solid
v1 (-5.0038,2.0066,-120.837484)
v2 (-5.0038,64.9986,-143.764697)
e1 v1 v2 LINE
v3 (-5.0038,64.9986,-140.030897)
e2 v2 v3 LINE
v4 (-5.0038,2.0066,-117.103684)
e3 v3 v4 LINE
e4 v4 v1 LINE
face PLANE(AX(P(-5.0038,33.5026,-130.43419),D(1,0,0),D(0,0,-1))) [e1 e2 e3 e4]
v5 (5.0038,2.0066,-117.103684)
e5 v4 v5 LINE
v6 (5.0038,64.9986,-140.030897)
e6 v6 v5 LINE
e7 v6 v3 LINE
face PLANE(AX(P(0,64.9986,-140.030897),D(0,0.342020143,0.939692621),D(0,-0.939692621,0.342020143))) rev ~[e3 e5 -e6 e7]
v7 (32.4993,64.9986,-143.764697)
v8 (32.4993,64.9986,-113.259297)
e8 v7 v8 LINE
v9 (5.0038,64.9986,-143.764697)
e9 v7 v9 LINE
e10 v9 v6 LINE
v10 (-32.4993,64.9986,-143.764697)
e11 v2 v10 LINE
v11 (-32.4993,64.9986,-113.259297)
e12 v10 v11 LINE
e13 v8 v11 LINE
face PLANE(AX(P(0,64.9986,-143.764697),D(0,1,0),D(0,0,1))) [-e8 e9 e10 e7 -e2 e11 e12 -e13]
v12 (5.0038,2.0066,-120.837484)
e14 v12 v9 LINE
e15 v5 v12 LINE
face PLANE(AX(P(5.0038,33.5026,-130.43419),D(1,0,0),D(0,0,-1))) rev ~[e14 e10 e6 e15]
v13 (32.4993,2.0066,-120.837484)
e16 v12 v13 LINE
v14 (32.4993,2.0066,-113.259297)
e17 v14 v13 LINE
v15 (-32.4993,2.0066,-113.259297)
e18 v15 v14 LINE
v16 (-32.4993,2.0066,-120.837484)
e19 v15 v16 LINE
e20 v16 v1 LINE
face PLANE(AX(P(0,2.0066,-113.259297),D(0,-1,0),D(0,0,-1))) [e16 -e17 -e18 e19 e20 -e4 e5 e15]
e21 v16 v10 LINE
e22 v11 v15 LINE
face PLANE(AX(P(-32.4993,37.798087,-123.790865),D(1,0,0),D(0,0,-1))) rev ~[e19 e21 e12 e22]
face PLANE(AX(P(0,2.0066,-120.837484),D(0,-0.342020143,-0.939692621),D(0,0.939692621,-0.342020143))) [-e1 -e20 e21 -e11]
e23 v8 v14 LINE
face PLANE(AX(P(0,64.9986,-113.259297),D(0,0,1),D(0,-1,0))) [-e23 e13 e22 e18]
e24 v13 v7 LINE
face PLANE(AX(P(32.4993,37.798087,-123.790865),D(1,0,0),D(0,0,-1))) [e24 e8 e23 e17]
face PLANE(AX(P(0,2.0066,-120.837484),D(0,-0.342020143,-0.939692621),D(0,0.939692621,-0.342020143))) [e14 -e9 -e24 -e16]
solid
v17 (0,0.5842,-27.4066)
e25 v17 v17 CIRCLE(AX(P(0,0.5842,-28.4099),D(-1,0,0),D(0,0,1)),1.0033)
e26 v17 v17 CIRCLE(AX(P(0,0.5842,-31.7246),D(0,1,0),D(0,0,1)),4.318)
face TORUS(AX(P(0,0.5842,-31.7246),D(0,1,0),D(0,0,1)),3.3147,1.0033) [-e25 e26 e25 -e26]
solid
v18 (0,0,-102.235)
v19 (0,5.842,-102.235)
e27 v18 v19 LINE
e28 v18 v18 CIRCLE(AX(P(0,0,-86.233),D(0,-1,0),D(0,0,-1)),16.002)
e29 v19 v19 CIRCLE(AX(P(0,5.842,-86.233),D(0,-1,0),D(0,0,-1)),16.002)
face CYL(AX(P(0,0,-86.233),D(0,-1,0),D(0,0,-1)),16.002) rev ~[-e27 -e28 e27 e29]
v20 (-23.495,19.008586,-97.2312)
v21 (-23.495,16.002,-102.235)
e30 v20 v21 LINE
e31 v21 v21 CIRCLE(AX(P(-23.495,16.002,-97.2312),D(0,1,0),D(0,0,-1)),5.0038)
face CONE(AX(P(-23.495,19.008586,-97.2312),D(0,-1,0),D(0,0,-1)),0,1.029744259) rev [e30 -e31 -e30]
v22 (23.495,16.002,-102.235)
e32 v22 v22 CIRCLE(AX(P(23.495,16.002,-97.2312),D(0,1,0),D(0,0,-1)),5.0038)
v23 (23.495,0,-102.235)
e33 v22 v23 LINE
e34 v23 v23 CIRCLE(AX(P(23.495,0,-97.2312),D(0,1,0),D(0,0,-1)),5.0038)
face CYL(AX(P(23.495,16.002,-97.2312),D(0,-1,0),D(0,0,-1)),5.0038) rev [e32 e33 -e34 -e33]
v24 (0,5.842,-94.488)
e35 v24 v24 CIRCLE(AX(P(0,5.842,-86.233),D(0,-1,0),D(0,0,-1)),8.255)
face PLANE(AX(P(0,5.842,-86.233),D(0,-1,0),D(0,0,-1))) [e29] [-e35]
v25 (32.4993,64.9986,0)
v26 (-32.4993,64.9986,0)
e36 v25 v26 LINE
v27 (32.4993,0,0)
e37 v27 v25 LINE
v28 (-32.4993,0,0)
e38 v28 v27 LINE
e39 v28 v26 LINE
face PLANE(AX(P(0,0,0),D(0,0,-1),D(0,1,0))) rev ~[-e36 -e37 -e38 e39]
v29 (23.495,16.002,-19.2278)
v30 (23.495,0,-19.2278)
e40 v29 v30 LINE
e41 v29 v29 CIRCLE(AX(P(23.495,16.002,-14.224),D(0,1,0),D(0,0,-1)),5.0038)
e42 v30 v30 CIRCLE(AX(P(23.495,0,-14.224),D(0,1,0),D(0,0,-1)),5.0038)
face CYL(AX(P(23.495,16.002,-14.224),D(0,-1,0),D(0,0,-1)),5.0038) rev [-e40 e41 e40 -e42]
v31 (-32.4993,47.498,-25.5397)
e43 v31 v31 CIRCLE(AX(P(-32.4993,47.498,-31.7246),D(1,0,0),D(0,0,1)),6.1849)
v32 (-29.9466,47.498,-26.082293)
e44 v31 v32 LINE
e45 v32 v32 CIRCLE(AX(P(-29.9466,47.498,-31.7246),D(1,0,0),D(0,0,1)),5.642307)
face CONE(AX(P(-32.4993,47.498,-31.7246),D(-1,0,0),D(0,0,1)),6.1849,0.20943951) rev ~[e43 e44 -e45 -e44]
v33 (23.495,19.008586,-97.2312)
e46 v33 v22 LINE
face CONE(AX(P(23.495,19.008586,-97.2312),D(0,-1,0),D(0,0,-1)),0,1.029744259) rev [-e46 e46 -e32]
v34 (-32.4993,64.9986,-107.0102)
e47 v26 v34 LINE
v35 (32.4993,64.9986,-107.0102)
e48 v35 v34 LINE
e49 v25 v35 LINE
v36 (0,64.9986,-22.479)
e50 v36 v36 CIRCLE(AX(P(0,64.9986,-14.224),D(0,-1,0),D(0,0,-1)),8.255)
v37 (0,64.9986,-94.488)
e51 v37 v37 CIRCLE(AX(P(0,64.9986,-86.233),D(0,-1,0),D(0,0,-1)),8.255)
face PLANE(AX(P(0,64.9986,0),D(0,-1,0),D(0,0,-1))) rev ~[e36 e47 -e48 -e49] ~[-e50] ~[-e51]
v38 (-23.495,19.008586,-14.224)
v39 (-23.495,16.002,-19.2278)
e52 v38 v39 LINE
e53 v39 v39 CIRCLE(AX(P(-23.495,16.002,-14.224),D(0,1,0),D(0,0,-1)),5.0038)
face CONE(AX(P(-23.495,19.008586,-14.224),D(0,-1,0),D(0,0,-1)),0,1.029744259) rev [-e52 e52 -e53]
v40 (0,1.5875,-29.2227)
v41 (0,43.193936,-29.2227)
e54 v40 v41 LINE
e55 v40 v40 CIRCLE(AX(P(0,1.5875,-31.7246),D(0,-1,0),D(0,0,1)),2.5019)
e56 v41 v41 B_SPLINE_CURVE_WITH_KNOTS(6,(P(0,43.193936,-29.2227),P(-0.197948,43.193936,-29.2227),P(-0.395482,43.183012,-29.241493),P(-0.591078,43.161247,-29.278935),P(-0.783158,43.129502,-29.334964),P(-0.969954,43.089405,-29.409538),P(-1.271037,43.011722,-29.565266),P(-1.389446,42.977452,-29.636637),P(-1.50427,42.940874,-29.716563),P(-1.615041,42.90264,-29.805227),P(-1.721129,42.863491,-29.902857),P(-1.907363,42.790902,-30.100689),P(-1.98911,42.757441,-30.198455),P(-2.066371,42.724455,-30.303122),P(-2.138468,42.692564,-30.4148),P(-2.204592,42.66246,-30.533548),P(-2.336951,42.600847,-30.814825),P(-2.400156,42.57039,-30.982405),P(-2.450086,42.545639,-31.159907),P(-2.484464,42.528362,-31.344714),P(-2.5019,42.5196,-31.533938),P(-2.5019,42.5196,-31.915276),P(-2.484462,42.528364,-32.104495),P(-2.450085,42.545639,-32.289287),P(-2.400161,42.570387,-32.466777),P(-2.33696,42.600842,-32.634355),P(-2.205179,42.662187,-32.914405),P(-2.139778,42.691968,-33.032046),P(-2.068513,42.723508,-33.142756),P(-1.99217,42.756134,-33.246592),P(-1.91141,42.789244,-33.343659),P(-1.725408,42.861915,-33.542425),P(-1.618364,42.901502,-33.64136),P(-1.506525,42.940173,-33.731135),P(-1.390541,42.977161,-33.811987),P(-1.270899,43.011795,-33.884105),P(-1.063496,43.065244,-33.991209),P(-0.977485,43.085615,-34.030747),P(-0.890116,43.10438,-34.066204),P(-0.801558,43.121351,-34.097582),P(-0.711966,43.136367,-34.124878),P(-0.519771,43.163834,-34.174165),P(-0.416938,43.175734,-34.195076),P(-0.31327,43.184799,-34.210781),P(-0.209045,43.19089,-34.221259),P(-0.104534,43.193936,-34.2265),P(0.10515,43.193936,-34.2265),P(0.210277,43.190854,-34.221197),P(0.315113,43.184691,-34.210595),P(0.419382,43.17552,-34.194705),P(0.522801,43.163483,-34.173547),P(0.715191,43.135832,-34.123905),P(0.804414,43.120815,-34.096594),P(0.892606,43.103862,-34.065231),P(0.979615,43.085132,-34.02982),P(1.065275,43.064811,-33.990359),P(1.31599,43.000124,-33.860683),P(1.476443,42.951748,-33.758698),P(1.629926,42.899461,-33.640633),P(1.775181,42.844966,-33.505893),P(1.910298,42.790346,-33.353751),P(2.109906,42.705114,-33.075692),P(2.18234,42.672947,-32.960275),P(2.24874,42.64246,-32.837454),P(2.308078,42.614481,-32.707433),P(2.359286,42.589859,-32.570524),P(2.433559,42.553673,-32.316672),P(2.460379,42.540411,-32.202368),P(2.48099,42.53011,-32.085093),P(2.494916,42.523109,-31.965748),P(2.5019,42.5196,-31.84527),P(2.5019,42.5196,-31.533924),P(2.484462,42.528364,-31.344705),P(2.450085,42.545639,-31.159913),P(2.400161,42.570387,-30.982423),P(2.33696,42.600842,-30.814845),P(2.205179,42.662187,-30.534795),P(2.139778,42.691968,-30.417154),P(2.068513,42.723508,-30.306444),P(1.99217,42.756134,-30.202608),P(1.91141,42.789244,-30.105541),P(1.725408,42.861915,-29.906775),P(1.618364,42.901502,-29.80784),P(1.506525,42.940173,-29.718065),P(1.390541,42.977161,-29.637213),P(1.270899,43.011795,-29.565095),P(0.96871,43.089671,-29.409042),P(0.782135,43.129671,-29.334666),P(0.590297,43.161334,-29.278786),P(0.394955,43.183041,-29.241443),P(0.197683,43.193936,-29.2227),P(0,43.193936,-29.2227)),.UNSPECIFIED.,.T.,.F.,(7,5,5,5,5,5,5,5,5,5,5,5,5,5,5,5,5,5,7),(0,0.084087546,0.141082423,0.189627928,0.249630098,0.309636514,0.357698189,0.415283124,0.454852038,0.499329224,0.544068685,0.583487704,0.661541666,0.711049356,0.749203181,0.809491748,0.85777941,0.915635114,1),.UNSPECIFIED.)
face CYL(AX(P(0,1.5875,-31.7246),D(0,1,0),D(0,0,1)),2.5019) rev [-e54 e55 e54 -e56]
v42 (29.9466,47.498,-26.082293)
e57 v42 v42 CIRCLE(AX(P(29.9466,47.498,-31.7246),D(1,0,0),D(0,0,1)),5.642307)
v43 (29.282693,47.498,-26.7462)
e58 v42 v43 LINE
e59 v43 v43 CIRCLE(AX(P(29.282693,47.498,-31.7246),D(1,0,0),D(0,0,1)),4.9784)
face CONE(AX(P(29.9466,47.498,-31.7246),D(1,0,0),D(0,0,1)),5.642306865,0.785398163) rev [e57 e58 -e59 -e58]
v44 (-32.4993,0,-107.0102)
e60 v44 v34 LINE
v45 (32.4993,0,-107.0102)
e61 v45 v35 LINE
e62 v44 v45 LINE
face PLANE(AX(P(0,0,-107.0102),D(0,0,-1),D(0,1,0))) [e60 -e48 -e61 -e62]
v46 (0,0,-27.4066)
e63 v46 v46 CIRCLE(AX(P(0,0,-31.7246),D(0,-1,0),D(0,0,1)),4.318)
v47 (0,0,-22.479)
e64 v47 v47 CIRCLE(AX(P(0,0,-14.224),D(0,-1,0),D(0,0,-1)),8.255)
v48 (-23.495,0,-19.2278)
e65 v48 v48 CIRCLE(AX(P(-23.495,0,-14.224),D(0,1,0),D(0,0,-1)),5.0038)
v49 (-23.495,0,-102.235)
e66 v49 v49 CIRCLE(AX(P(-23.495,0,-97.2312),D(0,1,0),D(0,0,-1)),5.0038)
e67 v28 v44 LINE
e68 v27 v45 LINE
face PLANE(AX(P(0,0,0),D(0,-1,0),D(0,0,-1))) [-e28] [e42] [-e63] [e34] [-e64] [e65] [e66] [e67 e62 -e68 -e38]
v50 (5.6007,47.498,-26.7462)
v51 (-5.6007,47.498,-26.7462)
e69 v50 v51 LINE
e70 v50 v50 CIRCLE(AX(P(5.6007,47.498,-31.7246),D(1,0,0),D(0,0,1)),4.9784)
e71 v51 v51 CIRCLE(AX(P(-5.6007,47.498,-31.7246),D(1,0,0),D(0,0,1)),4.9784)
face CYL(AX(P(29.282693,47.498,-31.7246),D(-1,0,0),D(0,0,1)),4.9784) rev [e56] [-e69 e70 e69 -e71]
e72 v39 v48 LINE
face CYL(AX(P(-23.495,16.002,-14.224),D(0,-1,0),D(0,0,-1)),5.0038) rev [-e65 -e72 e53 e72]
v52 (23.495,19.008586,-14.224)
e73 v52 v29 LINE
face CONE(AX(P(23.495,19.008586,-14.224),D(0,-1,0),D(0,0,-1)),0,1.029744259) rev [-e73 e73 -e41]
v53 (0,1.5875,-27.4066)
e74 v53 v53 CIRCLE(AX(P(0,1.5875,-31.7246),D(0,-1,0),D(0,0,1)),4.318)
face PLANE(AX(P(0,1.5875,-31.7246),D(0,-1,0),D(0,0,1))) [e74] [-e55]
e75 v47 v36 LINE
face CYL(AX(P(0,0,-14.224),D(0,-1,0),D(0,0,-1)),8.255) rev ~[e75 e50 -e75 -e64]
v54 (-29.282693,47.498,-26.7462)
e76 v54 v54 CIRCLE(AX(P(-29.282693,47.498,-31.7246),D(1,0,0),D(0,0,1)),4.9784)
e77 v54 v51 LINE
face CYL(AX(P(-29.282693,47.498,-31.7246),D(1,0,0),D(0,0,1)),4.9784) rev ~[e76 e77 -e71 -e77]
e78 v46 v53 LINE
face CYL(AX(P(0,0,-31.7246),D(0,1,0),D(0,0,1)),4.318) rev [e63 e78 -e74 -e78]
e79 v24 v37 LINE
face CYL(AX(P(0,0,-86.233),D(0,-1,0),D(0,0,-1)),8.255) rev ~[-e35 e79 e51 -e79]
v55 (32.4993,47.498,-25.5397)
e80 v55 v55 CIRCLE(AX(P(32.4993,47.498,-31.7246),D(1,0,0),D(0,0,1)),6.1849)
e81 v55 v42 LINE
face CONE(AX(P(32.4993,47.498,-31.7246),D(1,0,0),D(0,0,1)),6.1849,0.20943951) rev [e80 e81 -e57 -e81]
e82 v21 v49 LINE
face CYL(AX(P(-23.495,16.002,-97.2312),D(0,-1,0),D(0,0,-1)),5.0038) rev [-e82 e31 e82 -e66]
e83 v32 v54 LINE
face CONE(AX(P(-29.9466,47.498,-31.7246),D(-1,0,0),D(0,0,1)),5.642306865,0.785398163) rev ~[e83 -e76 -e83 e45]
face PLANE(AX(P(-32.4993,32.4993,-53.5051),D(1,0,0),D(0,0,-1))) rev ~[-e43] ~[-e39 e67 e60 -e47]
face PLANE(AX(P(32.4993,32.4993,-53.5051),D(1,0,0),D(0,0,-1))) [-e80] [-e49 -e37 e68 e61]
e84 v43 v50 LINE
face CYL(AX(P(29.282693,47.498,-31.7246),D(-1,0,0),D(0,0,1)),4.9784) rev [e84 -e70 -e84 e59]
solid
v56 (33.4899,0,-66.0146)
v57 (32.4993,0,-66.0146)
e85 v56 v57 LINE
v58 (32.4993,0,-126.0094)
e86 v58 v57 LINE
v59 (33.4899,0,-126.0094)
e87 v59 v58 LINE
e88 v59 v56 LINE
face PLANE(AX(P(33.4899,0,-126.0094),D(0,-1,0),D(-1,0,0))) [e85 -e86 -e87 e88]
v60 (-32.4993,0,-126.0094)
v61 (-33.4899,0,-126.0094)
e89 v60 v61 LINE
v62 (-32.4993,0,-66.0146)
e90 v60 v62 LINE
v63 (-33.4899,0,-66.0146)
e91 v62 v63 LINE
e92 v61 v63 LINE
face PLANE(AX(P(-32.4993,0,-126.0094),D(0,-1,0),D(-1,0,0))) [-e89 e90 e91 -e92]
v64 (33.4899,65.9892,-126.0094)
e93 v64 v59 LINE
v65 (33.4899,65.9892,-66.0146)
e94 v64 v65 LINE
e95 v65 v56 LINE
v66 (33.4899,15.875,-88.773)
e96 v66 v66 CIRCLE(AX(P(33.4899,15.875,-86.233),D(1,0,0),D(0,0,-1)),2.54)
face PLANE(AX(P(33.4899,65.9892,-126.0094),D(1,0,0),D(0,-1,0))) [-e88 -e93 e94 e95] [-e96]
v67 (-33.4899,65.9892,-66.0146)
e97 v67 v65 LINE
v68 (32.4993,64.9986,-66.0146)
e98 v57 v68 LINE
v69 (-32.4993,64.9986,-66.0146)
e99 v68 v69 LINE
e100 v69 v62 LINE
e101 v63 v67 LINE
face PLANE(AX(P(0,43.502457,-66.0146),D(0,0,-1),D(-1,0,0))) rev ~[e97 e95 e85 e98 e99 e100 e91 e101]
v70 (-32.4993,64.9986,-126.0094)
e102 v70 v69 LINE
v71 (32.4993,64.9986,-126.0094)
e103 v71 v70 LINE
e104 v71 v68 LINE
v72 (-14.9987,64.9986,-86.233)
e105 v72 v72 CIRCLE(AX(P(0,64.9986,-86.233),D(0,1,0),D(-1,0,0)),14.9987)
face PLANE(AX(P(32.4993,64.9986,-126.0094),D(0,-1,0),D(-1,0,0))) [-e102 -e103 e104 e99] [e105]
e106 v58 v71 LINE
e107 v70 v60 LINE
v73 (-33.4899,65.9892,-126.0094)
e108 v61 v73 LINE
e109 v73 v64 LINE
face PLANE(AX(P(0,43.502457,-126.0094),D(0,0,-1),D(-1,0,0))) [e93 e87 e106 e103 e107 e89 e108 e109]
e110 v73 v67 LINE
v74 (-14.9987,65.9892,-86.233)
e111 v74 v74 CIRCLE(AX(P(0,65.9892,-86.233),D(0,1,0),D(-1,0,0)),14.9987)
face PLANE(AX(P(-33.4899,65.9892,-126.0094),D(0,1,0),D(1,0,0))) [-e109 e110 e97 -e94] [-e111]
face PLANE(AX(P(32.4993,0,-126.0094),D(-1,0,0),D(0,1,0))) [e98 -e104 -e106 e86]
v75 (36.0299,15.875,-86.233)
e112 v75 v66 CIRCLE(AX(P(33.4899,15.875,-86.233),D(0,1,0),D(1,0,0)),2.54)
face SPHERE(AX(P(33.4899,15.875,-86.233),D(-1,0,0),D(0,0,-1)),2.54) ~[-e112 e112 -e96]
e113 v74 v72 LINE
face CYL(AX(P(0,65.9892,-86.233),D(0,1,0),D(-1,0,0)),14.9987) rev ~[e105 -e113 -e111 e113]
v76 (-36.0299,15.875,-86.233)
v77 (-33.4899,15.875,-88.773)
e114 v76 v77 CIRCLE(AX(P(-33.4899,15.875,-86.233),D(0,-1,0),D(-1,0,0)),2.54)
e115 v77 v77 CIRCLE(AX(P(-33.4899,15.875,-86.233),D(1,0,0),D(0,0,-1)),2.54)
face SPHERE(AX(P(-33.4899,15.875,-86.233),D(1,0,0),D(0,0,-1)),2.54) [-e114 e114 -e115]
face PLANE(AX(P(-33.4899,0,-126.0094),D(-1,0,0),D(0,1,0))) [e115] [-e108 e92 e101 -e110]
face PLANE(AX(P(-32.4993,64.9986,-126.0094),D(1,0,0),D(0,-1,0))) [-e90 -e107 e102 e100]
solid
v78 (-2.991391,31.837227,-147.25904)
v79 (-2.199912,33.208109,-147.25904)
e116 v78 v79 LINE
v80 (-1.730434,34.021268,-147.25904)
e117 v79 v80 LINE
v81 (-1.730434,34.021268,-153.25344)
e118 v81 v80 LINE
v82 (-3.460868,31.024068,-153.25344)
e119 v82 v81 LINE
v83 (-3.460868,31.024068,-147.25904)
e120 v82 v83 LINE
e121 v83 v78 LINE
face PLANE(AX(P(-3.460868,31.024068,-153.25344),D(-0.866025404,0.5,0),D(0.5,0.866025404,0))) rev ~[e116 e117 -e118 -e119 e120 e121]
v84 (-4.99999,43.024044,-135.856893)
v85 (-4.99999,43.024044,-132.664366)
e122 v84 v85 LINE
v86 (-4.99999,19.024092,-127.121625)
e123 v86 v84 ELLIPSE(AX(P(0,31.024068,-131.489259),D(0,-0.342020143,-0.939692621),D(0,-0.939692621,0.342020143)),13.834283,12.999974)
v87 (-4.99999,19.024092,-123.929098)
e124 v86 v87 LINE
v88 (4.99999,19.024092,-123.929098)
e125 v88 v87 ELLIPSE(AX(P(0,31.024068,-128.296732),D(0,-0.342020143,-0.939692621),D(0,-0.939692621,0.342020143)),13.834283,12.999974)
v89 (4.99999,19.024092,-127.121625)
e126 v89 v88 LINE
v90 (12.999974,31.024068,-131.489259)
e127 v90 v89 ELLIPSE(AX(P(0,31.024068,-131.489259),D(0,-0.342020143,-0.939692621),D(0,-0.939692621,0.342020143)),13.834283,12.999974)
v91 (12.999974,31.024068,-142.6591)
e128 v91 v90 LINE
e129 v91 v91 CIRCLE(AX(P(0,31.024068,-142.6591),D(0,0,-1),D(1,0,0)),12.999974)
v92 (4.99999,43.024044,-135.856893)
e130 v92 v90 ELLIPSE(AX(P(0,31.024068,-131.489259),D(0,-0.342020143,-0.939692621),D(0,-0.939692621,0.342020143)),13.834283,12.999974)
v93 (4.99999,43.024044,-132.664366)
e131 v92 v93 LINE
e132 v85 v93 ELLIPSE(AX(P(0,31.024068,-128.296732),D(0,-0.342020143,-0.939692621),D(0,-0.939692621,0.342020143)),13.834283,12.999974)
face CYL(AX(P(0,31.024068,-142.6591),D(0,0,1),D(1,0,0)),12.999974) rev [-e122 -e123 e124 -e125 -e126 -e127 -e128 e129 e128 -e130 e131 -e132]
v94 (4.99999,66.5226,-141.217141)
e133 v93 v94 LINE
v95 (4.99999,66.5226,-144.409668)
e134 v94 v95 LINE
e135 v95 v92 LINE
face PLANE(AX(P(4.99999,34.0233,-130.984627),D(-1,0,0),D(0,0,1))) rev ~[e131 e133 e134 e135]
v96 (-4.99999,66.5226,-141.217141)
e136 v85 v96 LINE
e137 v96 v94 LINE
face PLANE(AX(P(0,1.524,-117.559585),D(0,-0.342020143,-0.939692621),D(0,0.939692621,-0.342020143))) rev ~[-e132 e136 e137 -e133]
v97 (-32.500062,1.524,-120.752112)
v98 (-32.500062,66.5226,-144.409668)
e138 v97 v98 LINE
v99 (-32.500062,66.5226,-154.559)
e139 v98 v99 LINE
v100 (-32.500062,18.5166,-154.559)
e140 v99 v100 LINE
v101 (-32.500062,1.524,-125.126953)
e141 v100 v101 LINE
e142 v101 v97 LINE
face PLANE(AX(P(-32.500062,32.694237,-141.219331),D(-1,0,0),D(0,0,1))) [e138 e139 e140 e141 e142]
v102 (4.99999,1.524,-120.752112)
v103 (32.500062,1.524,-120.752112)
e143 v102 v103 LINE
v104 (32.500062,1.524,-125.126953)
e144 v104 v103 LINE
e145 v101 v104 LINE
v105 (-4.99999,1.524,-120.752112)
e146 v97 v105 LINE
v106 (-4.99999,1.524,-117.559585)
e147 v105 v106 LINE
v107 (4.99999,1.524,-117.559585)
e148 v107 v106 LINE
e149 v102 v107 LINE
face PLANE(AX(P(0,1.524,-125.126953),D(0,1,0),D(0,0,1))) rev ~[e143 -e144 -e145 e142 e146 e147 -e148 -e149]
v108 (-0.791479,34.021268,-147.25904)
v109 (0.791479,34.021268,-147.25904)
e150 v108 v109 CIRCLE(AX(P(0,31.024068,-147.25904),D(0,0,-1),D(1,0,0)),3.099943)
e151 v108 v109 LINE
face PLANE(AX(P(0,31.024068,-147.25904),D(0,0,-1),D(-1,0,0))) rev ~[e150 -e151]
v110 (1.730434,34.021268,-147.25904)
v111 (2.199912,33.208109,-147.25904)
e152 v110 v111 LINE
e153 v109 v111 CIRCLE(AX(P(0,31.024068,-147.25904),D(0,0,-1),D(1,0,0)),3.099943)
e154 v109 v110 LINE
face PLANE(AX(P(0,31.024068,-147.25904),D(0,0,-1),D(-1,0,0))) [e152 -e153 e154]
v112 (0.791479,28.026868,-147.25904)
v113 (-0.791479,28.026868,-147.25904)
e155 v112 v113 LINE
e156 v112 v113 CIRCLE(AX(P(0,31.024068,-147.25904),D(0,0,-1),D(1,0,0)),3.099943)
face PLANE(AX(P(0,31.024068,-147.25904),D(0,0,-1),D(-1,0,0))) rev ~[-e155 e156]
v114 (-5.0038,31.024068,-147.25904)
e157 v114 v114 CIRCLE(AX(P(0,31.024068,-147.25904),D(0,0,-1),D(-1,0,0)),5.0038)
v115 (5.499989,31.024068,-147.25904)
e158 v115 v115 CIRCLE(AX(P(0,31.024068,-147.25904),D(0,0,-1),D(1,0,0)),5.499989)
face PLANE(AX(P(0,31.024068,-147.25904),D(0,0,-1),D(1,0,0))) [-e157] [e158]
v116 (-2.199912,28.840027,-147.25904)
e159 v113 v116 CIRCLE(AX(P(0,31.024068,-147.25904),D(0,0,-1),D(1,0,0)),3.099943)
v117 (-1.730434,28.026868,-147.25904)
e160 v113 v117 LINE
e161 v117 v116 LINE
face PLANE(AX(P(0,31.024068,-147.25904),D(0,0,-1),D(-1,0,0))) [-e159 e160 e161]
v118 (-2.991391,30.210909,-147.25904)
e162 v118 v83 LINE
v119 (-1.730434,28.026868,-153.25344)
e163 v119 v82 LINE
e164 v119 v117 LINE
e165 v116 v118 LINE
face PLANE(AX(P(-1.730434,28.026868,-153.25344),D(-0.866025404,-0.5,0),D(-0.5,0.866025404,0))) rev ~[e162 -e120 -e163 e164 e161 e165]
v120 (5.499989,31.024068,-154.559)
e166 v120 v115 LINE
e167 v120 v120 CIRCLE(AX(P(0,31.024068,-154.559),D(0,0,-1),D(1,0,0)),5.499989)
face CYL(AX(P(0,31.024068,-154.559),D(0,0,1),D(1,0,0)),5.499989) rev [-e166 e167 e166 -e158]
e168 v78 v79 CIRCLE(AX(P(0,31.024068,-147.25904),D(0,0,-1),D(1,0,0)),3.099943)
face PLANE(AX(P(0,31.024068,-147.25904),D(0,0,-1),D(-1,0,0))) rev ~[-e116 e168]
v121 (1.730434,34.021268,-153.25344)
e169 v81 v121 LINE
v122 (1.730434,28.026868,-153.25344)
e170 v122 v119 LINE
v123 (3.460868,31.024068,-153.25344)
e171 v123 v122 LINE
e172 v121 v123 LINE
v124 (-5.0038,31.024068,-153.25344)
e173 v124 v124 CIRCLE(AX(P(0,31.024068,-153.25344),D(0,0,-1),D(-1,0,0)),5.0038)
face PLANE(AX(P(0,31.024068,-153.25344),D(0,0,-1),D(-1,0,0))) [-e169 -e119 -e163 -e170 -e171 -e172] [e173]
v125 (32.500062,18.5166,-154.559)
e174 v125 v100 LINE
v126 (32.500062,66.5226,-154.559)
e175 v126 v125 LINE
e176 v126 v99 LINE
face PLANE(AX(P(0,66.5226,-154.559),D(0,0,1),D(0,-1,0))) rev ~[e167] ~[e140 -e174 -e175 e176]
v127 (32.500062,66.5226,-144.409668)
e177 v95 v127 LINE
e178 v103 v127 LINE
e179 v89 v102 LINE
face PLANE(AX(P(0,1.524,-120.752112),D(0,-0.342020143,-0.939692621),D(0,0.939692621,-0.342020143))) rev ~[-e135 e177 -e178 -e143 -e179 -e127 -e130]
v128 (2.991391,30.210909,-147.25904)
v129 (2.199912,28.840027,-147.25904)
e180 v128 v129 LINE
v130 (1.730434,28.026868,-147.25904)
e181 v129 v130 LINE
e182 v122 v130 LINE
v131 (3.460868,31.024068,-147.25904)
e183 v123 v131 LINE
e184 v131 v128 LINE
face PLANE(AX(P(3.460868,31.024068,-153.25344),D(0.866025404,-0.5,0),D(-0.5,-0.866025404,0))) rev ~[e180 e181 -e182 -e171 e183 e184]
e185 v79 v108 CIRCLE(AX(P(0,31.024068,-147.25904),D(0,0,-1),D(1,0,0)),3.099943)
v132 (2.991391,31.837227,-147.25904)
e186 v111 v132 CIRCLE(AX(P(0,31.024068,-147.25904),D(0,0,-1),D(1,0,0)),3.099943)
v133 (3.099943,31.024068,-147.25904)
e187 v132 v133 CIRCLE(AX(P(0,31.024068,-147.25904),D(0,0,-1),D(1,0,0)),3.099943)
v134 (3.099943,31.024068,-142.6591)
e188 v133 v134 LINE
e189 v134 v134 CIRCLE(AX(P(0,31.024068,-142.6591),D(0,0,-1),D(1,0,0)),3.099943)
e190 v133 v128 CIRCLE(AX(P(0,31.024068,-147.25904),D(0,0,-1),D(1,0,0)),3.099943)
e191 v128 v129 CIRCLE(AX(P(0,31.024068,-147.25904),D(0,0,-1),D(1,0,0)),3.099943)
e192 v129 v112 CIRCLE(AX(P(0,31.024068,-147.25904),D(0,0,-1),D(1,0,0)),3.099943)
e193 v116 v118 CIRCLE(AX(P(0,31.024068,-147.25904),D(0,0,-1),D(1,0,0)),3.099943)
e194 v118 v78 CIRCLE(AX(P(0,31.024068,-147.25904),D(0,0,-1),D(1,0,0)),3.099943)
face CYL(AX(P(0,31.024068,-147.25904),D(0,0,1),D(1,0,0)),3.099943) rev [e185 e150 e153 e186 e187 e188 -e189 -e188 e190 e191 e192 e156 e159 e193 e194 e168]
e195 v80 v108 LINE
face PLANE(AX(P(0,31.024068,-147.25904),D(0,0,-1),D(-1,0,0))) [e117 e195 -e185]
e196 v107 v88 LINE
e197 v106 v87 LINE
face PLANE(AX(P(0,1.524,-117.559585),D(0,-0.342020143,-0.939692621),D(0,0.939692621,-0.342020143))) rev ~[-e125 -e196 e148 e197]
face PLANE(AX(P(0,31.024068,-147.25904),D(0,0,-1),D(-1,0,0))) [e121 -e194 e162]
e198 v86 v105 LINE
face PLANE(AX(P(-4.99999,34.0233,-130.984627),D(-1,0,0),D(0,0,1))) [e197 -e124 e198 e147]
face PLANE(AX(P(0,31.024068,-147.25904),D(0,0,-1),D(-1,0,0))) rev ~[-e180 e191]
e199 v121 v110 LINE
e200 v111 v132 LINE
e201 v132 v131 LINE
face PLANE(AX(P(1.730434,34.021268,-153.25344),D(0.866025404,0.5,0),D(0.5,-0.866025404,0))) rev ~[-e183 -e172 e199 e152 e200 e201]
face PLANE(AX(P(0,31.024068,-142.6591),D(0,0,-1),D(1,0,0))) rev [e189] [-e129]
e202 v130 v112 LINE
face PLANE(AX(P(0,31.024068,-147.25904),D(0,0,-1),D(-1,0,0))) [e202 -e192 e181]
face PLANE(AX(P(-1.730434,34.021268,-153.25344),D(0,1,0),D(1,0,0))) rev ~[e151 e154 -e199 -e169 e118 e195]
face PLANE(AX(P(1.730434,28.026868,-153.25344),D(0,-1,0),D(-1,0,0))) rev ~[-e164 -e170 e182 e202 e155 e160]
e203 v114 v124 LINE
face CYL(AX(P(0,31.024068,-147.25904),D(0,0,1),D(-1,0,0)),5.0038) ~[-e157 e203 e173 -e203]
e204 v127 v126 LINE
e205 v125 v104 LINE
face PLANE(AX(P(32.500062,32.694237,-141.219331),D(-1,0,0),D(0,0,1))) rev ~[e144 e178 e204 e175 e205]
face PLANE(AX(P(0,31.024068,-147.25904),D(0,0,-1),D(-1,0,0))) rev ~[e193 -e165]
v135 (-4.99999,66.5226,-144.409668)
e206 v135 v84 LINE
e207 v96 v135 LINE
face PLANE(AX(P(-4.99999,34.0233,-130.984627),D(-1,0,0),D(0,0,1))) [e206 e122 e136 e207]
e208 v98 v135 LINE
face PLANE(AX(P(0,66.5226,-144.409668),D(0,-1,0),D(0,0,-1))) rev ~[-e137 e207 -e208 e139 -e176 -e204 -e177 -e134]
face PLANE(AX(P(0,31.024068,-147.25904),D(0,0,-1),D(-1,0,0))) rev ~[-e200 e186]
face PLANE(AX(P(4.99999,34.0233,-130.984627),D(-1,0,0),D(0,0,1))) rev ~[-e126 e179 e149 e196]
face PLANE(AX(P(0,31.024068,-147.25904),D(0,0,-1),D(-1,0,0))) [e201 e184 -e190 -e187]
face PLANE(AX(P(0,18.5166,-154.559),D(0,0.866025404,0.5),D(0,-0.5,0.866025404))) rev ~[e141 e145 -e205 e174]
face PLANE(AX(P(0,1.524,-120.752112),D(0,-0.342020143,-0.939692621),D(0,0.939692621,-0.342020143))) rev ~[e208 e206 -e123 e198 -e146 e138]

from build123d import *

# Parameters (mm, degrees)
SKETCH1_W          = 107.0102
SKETCH1_H          = 64.9986
EXTRUDE1_DEPTH     = 32.4993
EXTRUDE4_DEPTH     = 32.500062
EXTRUDE5_DEPTH     = 4.99999
SKETCH14_R         = 5.0038
EXTRUDE6_DEPTH     = 5.9944
CUT_EXTRUDE3_DEPTH = 5.9944
EXTRUDE2_DEPTH     = 32.4993
CUT_EXTRUDE1_DEPTH = 5.0038
SKETCH4_R          = 8.255
CUT_EXTRUDE2_DEPTH = 64.9986
HOLE1_AT_2_COUNT   = 2
HOLE1_AT_2_PITCH   = 83.0072
HOLE1_AT_3_COUNT   = 2
HOLE1_AT_3_PITCH   = 46.99
HOLE1_AT_4_COUNT   = 2
HOLE1_AT_4_PITCH   = 95.384775262
SKETCH8_R          = 1.0033
EXTRUDE3_DEPTH     = 59.9948
SKETCH18_R         = 14.9987
CUT_EXTRUDE4_DEPTH = 0.9906
SKETCH20_R         = 16.002
CUT_EXTRUDE5_DEPTH = 5.842


with BuildPart() as part:
    # Sketch1 → Extrude1 (new body, symmetric)
    with BuildSketch(Plane(origin=(0, 0, 0), x_dir=(0, 0, -1), z_dir=(1, 0, 0))):
        with Locations((53.5051, 32.4993)):
            Rectangle(SKETCH1_W, SKETCH1_H)
    extrude(amount=EXTRUDE1_DEPTH, both=True)

    # Sketch4 → Cut-Extrude2 (cut)
    with BuildSketch(Plane.XZ):
        with Locations(Location((0, -14.224, 0), (0, 0, 270))):  # turned: the seam where the file's is
            Circle(SKETCH4_R)
        with Locations(Location((0, -86.233, 0), (0, 0, 270))):  # turned: the seam where the file's is
            Circle(SKETCH4_R)
    extrude(amount=-CUT_EXTRUDE2_DEPTH, mode=Mode.SUBTRACT)

    # Sketch16 → Hole1 (revolve, cut)
    with BuildSketch(Plane(origin=(-23.495, 0, -14.224), x_dir=(0, 0, -1), z_dir=(1, 0, 0))):
        Polygon((0, 0), (0, 19.008586365), (5.0038, 16.002), (5.0038, 0), align=None)
    hole1 = revolve(axis=Axis((-23.495, -4.244199587, -14.224), (0, 1, 0)), mode=Mode.SUBTRACT)

    # Hole1 at 2: Hole1 ×2
    with Locations(*[(0, 0, -i * HOLE1_AT_2_PITCH) for i in range(1, HOLE1_AT_2_COUNT)]):
        add(hole1, mode=Mode.SUBTRACT)

    # Hole1 at 3: Hole1 ×2
    with Locations(*[(i * HOLE1_AT_3_PITCH, 0, 0) for i in range(1, HOLE1_AT_3_COUNT)]):
        add(hole1, mode=Mode.SUBTRACT)

    # Hole1 at 4: Hole1 ×2
    with Locations(*[Vector(0.492636271, 0, -0.870235316) * (i * HOLE1_AT_4_PITCH) for i in range(1, HOLE1_AT_4_COUNT)]):
        add(hole1, mode=Mode.SUBTRACT)

    # S2D0001 → Cut-Revolve2 (revolve, cut)
    with BuildSketch(Plane(origin=(14.986, 47.498, -21.336), x_dir=(0, 0, -1), z_dir=(0, -1, 0)), mode=Mode.PRIVATE) as cut_revolve2_sk:
        Polygon((10.3886, 17.5133), (16.5735, 17.5133), (16.030906865, 14.9606), (15.367, 14.296693135), (15.367, -20.5867), (10.3886, -20.5867), align=None)
    cut_revolve2 = revolve(cut_revolve2_sk.sketch.rotate(Axis((-10.40039223, 47.498, -31.7246), (1, 0, 0)), 180), axis=Axis((-10.40039223, 47.498, -31.7246), (1, 0, 0)), mode=Mode.SUBTRACT)  # turned: the seam where the file's is

    # Mirror1: Cut-Revolve2 across plane
    add(cut_revolve2.mirror(Plane(origin=(0, 0, 0), x_dir=(0, 0, 1), z_dir=(1, 0, 0))), mode=Mode.SUBTRACT)

    # Sketch19 → Cut-Revolve5 (revolve, cut)
    with BuildSketch(Plane(origin=(0, 0, 0), x_dir=(0, 0, -1), z_dir=(1, 0, 0)), mode=Mode.PRIVATE) as cut_revolve5_sk:
        Polygon((36.0426, 0), (36.0426, 1.5875), (34.2265, 1.5875), (34.2265, 47.498), (31.7246, 47.498), (31.7246, 0), align=None)
    revolve(cut_revolve5_sk.sketch.rotate(Axis((0, 47.498, -31.7246), (0, -1, 0)), 180), axis=Axis((0, 47.498, -31.7246), (0, -1, 0)), mode=Mode.SUBTRACT)  # turned: the seam where the file's is

    # Sketch20 → Cut-Extrude5 (cut)
    with BuildSketch(Plane.XZ):
        with Locations(Location((0, -86.233, 0), (0, 0, 270))):  # turned: the seam where the file's is
            Circle(SKETCH20_R)
    extrude(amount=-CUT_EXTRUDE5_DEPTH, mode=Mode.SUBTRACT)


with BuildPart() as body_2:
    # Sketch11 → Extrude4 (new body, symmetric)
    with BuildSketch(Plane(origin=(0, 0, 0), x_dir=(0, 0, -1), z_dir=(1, 0, 0))):
        Polygon((144.409668, 66.5226), (154.559, 66.5226), (154.559, 18.5166), (125.126953447, 1.524), (120.752112331, 1.524), align=None)
    extrude(amount=EXTRUDE4_DEPTH, both=True)

    # Sketch12 → Extrude5 (add, symmetric)
    with BuildSketch(Plane(origin=(0, 0, 0), x_dir=(0, 0, -1), z_dir=(1, 0, 0))):
        Polygon((144.409668, 66.5226), (120.752112331, 1.524), (117.559585399, 1.524), (141.217141068, 66.5226), align=None)
    extrude(amount=EXTRUDE5_DEPTH, both=True)

    # Sketch13 → Cut-Revolve4 (revolve, cut)
    with BuildSketch(Plane(origin=(0, 0, 0), x_dir=(0, 0, -1), z_dir=(1, 0, 0)), mode=Mode.PRIVATE) as cut_revolve4_sk:
        Polygon((154.559, 36.524057), (147.25904, 36.524057), (147.25904, 34.124011), (142.6591, 34.124011), (142.6591, 44.024042), (110.9091, 44.024042), (110.9091, 31.024068), (154.559, 31.024068), align=None)
    revolve(cut_revolve4_sk.sketch.rotate(Axis((0, 31.024068, -76.857343905), (0, 0, -1)), 90), axis=Axis((0, 31.024068, -76.857343905), (0, 0, -1)), mode=Mode.SUBTRACT)  # turned: the seam where the file's is

    # Sketch14 → Extrude6 (add)
    with BuildSketch(Plane(origin=(0, 0, -147.25904), x_dir=(-1, 0, 0), z_dir=(0, 0, -1))):
        with Locations((0, 31.024068)):
            Circle(SKETCH14_R)
    extrude(amount=EXTRUDE6_DEPTH)

    # Sketch15 → Cut-Extrude3 (cut)
    with BuildSketch(Plane(origin=(0, 0, -153.25344), x_dir=(-1, 0, 0), z_dir=(0, 0, -1))):
        Polygon((3.460868454, 31.024068), (1.730434227, 34.021268), (-1.730434227, 34.021268), (-3.460868454, 31.024068), (-1.730434227, 28.026868), (1.730434227, 28.026868), align=None)
    extrude(amount=-CUT_EXTRUDE3_DEPTH, mode=Mode.SUBTRACT)


with BuildPart() as body_3:
    # Sketch2 → Extrude2 (new body, symmetric)
    with BuildSketch(Plane(origin=(0, 0, 0), x_dir=(0, 0, -1), z_dir=(1, 0, 0))):
        Polygon((113.259296777, 64.9986), (113.259296777, 2.0066), (120.837483781, 2.0066), (143.764696777, 64.9986), align=None)
    extrude(amount=EXTRUDE2_DEPTH, both=True)

    # Sketch3 → Cut-Extrude1 (cut, symmetric)
    with BuildSketch(Plane(origin=(0, 0, 0), x_dir=(0, 0, -1), z_dir=(1, 0, 0))):
        Polygon((140.030896777, 64.9986), (117.103683781, 2.0066), (120.837483781, 2.0066), (143.764696777, 64.9986), align=None)
    extrude(amount=CUT_EXTRUDE1_DEPTH, both=True, mode=Mode.SUBTRACT)


with BuildPart() as body_4:
    # Sketch8 → Revolve1 (revolve)
    with BuildSketch(Plane(origin=(0, 0, 0), x_dir=(0, 0, -1), z_dir=(1, 0, 0)), mode=Mode.PRIVATE) as revolve1_sk:
        with Locations((35.0393, 0.5842)):
            Circle(SKETCH8_R)
    revolve(revolve1_sk.sketch.rotate(Axis((0, -0.51943, -31.7246), (0, 1, 0)), 180), axis=Axis((0, -0.51943, -31.7246), (0, 1, 0)))  # turned: the seam where the file's is


with BuildPart() as body_5:
    # Sketch9 → Extrude3 (new body)
    with BuildSketch(Plane(origin=(0, 0, -126.0094), x_dir=(-1, 0, 0), z_dir=(0, 0, -1))):
        Polygon((32.4993, 64.9986), (32.4993, 0), (33.4899, 0), (33.4899, 65.9892), (-33.4899, 65.9892), (-33.4899, 0), (-32.4993, 0), (-32.4993, 64.9986), align=None)
    extrude(amount=-EXTRUDE3_DEPTH)

    # Sketch10 → Revolve2 (revolve)
    with BuildSketch(Plane(origin=(0, 15.875, -83.7438), x_dir=(1, 0, 0), z_dir=(0, 1, 0))):
        with BuildLine():
            Line((33.4899, 5.0292), (33.4899, 2.4892))
            Line((33.4899, 2.4892), (36.0299, 2.4892))
            ThreePointArc((36.0299, 2.4892), (35.285951224, 4.285251224), (33.4899, 5.0292))
        make_face()
        with BuildLine():
            Line((-33.4899, 5.0292), (-33.4899, 2.4892))
            Line((-33.4899, 2.4892), (-36.0299, 2.4892))
            ThreePointArc((-36.0299, 2.4892), (-35.285951224, 4.285251224), (-33.4899, 5.0292))
        make_face()
    revolve(axis=Axis((-20.36826, 15.875, -86.233), (1, 0, 0)))

    # Sketch18 → Cut-Extrude4 (cut)
    with BuildSketch(Plane(origin=(0, 65.9892, 0), x_dir=(1, 0, 0), z_dir=(0, 1, 0))):
        with Locations(Location((0, 86.233, 0), (0, 0, 180))):  # turned: the seam where the file's is
            Circle(SKETCH18_R)
    extrude(amount=-CUT_EXTRUDE4_DEPTH, mode=Mode.SUBTRACT)


solid = Compound([part.part, body_2.part, body_3.part, body_4.part, body_5.part])
